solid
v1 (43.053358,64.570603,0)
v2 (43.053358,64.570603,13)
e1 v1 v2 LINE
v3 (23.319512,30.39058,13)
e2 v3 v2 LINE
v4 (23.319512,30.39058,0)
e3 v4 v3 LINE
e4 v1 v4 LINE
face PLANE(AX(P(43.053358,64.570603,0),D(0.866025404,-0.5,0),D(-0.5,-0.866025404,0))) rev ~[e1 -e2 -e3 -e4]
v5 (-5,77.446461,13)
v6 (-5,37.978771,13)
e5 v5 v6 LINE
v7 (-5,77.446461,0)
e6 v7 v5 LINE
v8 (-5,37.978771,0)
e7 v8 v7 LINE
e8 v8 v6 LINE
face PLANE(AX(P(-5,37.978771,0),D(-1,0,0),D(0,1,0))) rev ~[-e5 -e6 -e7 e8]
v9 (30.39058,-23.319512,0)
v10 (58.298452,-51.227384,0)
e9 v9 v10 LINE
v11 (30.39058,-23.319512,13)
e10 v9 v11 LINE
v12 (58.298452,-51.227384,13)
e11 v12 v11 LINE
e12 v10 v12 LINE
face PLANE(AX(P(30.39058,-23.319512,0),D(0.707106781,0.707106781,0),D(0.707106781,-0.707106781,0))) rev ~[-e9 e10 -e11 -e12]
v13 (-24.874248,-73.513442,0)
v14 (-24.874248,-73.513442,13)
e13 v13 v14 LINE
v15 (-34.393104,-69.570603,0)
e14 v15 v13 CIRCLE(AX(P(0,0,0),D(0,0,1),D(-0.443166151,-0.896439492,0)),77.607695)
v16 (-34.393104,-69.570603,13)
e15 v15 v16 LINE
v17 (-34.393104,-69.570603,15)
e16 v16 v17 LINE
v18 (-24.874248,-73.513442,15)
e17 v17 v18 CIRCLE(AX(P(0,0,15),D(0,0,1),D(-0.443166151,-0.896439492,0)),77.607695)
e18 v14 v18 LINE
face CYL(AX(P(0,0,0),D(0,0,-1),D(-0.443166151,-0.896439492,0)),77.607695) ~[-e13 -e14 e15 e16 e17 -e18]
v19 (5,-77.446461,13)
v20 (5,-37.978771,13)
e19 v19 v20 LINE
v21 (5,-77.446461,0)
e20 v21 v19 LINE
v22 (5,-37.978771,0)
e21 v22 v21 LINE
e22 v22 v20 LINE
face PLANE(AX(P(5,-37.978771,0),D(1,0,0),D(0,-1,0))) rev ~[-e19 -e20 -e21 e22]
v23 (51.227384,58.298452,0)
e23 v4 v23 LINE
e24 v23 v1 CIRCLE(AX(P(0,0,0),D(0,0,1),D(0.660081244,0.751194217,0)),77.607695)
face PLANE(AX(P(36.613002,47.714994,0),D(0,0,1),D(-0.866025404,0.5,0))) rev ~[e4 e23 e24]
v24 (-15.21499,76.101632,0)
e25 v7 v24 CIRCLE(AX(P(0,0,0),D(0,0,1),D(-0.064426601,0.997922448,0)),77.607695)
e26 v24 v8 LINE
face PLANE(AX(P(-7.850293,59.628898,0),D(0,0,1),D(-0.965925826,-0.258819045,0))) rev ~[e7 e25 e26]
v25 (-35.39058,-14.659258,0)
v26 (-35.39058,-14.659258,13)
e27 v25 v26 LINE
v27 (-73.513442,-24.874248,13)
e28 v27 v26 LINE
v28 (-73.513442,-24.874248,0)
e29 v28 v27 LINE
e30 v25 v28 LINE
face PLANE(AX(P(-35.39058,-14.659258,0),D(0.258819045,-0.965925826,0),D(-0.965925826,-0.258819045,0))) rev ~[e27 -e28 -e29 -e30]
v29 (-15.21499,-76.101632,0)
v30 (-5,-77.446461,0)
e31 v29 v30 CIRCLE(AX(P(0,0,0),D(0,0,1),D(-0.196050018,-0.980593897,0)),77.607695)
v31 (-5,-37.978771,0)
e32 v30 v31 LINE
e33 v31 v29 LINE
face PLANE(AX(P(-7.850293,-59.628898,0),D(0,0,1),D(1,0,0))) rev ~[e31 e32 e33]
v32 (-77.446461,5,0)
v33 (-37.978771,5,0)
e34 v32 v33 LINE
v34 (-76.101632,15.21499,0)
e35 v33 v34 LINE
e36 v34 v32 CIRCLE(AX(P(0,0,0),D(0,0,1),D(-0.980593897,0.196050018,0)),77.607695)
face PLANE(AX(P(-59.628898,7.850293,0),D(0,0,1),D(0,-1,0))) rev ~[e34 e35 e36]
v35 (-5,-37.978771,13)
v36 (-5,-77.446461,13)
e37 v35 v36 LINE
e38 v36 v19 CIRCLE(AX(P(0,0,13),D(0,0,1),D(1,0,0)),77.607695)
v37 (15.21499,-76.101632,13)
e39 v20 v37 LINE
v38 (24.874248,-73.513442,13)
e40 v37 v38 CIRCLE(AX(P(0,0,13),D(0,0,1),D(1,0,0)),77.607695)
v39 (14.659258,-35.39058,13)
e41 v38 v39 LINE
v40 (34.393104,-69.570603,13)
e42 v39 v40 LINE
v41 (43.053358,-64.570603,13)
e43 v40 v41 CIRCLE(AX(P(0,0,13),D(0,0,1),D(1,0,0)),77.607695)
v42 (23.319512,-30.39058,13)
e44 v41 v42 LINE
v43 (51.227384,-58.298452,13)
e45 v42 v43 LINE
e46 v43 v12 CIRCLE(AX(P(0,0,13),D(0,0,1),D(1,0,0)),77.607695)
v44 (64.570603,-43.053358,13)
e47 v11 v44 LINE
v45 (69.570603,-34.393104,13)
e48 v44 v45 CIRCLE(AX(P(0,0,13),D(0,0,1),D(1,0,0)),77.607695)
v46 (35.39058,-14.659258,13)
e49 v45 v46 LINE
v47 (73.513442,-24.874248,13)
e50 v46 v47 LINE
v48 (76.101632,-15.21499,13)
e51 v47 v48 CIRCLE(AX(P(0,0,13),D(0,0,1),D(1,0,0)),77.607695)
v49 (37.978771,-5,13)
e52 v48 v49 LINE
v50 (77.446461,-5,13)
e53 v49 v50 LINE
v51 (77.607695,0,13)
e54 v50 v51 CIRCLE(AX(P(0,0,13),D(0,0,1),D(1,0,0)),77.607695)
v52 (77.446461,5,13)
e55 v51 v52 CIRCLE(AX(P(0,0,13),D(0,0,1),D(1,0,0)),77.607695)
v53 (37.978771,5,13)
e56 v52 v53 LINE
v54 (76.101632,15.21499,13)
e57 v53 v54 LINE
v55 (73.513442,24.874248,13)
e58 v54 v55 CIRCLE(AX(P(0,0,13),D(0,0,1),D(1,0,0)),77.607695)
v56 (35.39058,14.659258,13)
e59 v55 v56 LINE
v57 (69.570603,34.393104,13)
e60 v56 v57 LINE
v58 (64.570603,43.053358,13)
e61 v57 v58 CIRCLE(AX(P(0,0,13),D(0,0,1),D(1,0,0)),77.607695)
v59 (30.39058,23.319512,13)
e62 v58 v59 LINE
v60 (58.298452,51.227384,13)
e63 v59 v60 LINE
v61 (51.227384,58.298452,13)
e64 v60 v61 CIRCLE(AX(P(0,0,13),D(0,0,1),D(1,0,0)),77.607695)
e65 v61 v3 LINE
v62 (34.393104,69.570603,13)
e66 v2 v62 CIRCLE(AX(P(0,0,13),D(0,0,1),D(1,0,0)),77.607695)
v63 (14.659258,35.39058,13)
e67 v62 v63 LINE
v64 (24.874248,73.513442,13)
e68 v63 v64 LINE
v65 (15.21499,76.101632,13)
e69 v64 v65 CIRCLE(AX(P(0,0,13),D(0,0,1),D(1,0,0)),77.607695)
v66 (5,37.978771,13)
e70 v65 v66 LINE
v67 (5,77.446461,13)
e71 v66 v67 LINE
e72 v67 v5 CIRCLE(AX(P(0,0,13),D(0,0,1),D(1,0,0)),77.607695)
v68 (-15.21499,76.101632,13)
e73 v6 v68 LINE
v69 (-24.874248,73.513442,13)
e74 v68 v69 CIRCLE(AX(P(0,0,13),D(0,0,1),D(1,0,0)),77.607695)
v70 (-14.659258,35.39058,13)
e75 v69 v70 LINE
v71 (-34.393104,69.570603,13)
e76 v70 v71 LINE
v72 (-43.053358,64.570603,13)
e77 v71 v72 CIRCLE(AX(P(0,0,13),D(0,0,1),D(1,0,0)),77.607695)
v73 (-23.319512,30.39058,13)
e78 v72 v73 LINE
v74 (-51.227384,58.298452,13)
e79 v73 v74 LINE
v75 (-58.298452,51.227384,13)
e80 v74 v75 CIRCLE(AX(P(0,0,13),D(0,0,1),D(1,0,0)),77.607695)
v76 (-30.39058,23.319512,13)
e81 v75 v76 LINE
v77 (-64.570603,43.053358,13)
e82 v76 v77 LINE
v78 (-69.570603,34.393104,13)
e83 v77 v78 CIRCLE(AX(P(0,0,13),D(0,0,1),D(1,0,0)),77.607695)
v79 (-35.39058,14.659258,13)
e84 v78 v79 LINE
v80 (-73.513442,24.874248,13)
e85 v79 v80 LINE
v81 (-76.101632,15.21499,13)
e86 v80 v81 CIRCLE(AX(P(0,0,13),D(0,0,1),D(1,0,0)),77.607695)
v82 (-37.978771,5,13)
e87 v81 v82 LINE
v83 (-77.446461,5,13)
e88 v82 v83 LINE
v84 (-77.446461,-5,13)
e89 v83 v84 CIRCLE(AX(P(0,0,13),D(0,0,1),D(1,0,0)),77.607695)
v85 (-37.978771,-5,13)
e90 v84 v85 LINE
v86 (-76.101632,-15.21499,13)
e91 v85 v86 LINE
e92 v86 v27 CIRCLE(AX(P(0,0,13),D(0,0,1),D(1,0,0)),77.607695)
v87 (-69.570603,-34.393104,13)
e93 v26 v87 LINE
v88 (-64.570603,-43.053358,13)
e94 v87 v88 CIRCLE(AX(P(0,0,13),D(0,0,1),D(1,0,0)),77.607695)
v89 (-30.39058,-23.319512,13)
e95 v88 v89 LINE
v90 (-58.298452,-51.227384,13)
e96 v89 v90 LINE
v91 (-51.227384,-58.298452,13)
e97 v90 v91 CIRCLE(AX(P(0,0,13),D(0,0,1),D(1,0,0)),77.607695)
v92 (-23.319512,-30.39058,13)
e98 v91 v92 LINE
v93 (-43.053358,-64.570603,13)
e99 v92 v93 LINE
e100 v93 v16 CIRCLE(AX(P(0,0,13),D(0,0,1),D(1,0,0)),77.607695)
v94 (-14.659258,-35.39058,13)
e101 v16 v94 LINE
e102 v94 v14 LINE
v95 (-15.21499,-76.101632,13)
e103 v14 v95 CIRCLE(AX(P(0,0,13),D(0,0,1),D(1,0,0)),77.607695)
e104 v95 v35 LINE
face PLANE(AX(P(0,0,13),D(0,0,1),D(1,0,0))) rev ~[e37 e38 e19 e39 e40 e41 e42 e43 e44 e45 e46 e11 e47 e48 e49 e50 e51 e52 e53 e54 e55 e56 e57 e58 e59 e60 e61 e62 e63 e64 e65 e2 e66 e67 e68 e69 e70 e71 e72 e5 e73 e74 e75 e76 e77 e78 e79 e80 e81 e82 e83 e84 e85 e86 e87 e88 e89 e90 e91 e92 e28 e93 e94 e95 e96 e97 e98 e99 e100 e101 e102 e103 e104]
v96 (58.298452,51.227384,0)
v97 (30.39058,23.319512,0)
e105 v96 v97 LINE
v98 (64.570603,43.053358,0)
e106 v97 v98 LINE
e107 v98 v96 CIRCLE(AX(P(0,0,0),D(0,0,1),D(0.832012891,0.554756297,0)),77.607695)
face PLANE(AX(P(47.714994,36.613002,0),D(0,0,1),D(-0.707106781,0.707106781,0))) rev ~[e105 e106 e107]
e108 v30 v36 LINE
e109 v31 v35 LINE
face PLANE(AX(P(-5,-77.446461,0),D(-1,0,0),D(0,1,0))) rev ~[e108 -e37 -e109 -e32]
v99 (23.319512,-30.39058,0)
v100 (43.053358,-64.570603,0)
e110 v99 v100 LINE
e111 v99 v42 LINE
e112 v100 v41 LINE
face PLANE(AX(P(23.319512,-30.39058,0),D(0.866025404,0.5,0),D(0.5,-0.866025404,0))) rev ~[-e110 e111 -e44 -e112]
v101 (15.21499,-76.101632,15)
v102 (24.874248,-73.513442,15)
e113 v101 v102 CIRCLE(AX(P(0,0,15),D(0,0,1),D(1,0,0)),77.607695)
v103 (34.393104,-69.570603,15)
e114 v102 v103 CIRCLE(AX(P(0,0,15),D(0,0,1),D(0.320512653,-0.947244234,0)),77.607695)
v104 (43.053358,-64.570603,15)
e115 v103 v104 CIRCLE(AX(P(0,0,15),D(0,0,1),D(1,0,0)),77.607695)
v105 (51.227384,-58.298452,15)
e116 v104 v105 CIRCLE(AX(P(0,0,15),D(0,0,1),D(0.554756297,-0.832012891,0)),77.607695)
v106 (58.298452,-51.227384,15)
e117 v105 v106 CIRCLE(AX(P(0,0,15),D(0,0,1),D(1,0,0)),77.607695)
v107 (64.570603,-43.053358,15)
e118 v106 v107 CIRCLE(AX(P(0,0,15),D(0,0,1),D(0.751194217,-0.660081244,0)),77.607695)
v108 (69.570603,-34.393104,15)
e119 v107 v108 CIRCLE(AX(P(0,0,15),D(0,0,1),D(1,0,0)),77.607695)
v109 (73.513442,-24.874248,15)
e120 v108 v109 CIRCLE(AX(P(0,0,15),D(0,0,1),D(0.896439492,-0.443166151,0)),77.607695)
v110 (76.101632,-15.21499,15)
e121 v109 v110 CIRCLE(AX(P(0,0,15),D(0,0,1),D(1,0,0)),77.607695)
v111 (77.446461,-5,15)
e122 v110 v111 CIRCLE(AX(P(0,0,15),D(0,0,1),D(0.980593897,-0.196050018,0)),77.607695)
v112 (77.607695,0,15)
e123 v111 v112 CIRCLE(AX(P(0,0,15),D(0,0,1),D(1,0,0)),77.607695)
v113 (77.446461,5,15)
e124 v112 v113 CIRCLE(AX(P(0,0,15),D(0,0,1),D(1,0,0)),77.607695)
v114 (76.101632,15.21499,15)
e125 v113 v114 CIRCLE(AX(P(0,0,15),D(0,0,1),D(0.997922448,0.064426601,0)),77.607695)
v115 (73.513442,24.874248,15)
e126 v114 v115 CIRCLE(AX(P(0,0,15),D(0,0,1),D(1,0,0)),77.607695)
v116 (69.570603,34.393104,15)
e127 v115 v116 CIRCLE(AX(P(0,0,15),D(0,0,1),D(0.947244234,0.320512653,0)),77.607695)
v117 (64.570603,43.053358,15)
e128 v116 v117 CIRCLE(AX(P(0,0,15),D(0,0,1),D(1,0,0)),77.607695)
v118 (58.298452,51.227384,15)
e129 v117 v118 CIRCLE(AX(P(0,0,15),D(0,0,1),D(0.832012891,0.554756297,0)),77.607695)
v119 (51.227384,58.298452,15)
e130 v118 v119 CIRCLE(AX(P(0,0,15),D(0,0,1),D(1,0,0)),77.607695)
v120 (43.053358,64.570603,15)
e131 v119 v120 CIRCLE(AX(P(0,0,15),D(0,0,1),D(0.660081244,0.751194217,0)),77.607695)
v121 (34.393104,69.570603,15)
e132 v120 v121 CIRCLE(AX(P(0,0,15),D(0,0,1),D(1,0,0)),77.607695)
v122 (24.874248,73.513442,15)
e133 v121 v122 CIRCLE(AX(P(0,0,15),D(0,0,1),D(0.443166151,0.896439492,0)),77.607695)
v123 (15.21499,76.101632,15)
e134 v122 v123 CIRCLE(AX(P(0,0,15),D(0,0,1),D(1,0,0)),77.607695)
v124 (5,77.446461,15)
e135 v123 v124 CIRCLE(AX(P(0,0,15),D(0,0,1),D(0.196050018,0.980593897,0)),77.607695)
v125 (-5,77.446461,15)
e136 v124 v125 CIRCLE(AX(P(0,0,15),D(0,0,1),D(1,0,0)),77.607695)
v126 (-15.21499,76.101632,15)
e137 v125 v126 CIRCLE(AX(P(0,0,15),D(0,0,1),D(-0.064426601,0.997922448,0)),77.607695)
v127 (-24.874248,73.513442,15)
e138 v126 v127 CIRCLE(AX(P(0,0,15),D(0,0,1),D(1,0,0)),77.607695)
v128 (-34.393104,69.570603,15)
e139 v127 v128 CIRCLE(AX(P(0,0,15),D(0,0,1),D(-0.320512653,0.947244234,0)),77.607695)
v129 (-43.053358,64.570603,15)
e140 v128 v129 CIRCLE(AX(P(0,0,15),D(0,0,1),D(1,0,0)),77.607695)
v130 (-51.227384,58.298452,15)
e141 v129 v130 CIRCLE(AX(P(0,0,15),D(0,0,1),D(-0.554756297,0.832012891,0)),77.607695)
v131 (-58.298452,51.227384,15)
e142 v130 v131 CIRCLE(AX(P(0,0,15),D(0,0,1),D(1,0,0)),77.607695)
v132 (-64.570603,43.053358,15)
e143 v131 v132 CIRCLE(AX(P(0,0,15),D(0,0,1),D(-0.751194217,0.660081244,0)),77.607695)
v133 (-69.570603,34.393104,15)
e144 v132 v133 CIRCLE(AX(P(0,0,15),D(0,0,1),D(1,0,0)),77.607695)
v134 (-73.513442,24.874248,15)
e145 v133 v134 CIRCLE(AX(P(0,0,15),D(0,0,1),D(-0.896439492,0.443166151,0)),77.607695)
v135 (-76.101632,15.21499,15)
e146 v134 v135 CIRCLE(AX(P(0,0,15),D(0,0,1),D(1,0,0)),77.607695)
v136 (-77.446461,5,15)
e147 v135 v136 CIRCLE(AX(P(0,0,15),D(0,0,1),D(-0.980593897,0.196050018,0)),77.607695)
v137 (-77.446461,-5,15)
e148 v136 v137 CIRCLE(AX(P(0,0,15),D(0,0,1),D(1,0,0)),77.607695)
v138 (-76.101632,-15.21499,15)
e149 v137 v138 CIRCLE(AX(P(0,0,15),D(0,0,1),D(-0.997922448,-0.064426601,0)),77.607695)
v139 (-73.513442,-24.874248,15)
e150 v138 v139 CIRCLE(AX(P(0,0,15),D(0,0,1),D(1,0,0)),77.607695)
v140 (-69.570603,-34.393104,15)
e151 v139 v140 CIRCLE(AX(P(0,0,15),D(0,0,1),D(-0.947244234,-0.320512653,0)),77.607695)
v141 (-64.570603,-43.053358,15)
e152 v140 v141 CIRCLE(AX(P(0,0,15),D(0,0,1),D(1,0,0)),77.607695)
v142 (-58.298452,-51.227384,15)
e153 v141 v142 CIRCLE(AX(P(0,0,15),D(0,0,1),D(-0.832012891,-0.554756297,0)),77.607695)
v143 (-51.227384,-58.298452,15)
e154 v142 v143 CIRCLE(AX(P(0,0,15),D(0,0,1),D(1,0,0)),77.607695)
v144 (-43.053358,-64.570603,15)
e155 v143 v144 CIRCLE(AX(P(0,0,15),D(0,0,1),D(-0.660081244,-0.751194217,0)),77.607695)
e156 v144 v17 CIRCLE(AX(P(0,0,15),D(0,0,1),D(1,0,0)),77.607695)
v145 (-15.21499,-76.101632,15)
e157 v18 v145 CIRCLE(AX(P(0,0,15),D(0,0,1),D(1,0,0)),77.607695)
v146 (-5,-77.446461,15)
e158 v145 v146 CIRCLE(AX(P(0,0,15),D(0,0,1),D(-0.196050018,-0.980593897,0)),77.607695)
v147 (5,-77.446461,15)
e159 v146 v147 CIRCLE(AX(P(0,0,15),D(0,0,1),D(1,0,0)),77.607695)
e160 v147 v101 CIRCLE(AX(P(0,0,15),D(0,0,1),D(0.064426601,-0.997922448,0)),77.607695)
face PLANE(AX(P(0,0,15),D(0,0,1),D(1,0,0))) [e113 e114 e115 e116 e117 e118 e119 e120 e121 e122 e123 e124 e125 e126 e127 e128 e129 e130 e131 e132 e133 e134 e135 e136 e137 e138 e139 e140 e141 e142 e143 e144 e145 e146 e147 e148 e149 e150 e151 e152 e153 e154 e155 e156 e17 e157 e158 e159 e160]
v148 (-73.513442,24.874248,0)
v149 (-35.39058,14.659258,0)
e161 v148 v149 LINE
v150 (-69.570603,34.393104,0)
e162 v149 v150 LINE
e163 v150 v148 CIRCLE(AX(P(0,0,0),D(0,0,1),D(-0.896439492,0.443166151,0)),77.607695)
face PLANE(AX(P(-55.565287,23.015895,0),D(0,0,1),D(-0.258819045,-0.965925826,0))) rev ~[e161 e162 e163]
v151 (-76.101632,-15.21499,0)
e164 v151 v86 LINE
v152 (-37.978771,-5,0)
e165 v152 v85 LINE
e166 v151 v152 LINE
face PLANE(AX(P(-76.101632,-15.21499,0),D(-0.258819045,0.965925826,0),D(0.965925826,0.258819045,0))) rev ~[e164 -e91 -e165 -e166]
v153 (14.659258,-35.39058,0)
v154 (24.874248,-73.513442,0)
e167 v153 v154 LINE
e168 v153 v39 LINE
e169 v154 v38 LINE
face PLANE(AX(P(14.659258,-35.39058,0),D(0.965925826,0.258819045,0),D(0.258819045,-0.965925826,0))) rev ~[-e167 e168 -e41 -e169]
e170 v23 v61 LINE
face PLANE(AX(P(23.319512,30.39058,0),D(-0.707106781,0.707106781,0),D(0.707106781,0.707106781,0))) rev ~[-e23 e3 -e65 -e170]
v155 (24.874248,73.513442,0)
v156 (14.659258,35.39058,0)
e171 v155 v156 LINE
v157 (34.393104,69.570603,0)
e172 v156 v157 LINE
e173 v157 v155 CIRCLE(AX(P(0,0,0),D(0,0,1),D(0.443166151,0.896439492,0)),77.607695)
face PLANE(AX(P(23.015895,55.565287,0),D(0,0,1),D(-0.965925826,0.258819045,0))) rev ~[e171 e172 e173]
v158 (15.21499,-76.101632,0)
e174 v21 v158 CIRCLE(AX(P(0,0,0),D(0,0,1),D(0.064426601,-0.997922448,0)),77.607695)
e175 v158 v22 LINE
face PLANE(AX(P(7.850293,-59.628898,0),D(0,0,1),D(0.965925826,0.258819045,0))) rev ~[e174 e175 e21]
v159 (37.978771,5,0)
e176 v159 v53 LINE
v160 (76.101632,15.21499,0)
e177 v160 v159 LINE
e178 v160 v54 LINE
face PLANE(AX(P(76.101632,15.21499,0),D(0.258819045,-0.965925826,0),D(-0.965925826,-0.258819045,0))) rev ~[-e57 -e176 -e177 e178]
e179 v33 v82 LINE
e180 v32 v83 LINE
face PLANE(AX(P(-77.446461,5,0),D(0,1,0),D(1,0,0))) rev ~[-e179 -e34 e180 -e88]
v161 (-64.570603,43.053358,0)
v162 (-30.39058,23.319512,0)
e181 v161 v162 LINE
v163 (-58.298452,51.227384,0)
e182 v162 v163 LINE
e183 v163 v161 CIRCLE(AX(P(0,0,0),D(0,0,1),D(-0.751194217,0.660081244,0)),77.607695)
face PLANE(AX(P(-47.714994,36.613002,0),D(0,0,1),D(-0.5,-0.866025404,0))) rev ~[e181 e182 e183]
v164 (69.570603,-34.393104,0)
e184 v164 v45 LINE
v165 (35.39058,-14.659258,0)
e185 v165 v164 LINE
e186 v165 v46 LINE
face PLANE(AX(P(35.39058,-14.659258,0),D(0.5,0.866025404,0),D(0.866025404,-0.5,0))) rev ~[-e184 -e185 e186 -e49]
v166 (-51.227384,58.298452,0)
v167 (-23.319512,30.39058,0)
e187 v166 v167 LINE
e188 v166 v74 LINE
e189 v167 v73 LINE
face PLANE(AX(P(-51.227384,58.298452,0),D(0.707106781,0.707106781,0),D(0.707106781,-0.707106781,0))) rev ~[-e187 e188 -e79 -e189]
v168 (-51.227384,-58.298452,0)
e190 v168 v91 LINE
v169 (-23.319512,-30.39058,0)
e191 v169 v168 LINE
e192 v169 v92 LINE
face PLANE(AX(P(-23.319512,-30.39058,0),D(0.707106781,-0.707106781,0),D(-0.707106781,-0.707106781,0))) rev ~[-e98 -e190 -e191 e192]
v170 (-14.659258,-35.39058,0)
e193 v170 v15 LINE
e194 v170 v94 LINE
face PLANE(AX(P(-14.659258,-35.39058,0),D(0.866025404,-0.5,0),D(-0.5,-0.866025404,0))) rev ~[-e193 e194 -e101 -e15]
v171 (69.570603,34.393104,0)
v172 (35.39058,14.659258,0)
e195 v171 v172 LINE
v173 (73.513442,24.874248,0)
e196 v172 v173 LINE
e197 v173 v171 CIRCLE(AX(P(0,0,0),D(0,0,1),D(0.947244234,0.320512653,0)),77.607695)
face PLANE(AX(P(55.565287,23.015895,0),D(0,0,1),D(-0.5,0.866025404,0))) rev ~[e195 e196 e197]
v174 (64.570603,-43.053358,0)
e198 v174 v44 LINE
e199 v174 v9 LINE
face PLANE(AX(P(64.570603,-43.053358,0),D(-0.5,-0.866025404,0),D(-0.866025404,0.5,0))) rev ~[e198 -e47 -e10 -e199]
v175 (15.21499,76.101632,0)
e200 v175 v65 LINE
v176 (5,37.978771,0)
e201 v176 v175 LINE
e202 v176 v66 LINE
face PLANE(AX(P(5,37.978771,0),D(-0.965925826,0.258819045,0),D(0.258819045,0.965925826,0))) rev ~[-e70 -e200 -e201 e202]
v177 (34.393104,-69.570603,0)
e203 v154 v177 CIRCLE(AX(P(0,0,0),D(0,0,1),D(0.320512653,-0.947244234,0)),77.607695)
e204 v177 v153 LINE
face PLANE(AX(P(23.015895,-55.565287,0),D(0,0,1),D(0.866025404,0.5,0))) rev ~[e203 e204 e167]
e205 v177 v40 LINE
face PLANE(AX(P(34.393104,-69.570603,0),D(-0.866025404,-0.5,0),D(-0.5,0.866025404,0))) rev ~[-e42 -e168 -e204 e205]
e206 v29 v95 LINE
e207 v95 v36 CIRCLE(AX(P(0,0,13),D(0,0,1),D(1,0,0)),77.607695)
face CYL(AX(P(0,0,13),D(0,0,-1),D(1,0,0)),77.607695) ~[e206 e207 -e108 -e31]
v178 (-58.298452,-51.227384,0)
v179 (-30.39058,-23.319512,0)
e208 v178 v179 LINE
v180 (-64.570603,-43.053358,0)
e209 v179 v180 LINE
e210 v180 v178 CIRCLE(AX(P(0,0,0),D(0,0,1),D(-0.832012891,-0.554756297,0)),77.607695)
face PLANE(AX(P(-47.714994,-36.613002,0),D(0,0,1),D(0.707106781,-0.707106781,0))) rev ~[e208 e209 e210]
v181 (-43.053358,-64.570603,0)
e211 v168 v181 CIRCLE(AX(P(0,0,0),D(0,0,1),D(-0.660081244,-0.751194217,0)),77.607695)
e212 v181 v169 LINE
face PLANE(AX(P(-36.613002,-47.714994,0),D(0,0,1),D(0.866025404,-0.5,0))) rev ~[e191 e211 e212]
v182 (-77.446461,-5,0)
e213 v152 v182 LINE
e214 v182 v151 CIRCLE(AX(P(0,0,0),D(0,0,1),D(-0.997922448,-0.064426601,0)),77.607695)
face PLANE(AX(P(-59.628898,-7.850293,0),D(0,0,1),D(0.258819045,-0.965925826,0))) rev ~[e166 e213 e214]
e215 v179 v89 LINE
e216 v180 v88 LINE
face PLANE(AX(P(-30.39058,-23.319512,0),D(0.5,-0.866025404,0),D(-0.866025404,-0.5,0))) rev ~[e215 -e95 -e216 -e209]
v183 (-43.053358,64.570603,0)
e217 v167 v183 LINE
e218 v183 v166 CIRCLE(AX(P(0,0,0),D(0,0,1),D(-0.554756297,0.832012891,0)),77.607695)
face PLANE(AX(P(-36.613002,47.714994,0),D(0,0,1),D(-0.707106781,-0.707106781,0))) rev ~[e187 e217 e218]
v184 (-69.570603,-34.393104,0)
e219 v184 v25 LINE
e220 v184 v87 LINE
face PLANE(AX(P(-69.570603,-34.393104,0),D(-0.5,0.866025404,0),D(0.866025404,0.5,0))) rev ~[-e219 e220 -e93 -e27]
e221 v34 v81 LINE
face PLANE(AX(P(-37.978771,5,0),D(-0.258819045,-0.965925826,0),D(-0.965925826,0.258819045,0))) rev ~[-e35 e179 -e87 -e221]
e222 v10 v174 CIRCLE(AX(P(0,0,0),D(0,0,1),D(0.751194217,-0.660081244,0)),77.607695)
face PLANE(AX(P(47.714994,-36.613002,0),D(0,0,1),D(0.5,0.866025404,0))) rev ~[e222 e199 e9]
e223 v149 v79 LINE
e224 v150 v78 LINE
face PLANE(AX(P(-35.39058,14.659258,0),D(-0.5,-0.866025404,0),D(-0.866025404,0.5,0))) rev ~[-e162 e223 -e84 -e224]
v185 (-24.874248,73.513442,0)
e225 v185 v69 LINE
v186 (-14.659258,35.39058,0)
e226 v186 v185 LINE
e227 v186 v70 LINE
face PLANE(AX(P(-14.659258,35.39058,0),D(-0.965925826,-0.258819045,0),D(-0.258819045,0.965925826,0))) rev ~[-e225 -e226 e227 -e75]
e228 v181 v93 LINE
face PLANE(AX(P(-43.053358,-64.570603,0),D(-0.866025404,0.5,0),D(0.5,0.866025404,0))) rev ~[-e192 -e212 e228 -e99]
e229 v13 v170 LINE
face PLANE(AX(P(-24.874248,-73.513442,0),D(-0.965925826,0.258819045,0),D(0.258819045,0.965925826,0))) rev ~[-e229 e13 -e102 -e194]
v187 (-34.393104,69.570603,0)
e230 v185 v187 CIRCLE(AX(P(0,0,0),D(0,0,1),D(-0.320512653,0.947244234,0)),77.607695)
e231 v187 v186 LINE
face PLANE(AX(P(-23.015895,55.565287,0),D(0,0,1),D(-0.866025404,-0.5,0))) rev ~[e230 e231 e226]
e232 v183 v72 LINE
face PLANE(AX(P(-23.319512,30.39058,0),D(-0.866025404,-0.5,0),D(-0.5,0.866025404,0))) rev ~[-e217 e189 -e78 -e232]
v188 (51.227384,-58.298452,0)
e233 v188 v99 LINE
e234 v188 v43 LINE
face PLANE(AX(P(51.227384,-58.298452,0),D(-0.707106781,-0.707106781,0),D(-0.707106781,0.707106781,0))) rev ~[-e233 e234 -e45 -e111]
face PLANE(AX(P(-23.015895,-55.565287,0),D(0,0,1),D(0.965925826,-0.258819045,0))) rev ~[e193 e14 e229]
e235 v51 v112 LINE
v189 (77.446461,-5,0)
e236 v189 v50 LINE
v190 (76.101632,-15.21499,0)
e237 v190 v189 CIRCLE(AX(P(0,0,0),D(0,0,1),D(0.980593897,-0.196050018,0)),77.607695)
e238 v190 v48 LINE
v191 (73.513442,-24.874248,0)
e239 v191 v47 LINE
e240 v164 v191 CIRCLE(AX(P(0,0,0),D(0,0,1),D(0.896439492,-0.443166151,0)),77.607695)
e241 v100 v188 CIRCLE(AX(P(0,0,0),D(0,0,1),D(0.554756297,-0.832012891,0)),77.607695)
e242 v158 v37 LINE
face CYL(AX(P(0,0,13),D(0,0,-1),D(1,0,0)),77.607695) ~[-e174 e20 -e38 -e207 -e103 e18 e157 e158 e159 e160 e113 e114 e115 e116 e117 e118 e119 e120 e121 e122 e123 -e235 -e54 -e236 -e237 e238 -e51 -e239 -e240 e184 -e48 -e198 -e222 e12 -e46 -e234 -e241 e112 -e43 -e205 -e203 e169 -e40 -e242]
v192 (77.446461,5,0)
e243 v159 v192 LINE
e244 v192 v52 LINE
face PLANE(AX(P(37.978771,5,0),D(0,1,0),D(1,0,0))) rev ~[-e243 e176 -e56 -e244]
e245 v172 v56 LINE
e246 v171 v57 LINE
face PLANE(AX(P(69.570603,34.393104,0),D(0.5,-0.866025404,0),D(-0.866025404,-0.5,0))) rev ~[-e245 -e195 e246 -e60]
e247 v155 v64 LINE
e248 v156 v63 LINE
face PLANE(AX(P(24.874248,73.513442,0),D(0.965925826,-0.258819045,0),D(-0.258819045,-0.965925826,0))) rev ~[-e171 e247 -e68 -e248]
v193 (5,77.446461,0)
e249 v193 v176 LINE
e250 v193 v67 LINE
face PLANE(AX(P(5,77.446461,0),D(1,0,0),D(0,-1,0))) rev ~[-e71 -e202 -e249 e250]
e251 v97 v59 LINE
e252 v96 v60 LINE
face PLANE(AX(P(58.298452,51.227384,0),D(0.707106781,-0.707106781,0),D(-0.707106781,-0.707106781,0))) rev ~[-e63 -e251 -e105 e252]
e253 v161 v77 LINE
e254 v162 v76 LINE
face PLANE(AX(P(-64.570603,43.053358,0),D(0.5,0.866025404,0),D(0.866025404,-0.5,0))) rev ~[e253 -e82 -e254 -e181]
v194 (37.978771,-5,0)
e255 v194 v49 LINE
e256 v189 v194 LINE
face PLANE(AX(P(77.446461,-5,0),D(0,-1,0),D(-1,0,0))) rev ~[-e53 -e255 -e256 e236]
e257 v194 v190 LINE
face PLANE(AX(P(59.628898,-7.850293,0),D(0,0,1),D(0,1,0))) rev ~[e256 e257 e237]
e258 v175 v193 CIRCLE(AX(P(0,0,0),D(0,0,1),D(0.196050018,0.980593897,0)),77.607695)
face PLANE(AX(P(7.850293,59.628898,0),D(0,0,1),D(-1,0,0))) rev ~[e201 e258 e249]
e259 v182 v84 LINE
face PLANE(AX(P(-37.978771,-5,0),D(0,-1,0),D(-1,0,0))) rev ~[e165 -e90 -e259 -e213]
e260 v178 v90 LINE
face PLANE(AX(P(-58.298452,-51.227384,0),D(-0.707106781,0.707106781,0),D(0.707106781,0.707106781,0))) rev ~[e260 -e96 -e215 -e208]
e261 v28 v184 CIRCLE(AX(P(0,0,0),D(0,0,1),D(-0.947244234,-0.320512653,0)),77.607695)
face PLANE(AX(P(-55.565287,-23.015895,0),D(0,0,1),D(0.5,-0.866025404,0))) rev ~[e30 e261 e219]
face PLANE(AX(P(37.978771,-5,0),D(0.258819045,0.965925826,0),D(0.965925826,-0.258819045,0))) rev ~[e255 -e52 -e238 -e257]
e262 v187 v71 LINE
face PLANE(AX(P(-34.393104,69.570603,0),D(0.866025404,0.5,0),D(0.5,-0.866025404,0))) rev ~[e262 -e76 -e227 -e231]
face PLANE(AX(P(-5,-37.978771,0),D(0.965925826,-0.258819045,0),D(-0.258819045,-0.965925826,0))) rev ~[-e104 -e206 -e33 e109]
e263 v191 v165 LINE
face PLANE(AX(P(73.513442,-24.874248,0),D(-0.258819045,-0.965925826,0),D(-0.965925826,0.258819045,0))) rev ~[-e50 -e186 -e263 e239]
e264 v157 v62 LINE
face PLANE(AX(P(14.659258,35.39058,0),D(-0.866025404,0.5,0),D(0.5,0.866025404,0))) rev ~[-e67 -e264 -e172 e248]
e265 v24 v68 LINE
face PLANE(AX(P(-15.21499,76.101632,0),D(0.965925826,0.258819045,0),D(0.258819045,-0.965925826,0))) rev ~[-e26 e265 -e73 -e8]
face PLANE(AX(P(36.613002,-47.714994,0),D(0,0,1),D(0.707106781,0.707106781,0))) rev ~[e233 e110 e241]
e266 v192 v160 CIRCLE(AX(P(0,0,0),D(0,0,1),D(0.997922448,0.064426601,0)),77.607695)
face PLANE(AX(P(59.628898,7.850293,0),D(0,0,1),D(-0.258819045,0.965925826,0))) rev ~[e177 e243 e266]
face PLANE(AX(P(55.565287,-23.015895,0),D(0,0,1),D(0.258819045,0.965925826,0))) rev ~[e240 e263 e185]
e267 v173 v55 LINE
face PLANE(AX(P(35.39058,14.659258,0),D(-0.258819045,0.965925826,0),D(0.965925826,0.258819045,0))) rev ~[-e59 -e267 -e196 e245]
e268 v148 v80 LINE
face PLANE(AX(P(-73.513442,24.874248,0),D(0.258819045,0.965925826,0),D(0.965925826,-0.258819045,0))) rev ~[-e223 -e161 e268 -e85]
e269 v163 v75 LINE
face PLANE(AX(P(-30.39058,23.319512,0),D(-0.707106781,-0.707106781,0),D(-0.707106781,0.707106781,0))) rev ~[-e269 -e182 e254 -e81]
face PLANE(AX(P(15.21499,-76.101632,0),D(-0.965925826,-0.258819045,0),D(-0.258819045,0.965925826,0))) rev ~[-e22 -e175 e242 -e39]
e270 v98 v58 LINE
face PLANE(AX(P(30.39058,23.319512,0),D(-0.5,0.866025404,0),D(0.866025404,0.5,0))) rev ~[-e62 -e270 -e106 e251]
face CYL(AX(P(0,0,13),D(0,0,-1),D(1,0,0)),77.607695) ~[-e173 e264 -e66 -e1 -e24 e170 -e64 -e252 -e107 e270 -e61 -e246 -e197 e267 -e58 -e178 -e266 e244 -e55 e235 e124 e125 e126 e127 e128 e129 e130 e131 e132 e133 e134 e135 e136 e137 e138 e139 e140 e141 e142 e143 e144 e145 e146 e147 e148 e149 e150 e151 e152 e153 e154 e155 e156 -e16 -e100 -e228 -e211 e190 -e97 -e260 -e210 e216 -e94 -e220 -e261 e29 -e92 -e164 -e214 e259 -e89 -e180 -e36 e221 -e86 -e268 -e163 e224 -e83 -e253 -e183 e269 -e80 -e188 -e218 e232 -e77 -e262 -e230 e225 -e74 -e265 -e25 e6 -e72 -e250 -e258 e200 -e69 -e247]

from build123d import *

# Parameters (mm, degrees)
BOSS_EXTRUDE1_START = 13
SKETCH1_R           = 77.607695155
BOSS_EXTRUDE1_DEPTH = 2
BOSS_EXTRUDE2_START = -15
BOSS_EXTRUDE2_DEPTH = 15
CIRPATTERN1_COUNT   = 24


with BuildPart() as part:
    # Sketch1 → Boss-Extrude1 (new body)
    with BuildSketch(Plane.XY.offset(BOSS_EXTRUDE1_START)):
        Circle(SKETCH1_R)
    extrude(amount=BOSS_EXTRUDE1_DEPTH)

    # Sketch3 → Boss-Extrude2 (add)
    with BuildSketch(Plane.XY.offset(15).offset(BOSS_EXTRUDE2_START)):
        with BuildLine():
            Line((-5, -77.446461166), (-5, -37.978770564))
            Line((-5, -37.978770564), (-15.214989994, -76.101632221))
            ThreePointArc((-15.214989994, -76.101632221), (-10.129836936, -76.943750564), (-5, -77.446461166))
        make_face()
    boss_extrude2 = extrude(amount=BOSS_EXTRUDE2_DEPTH)

    # CirPattern1: Boss-Extrude2 ×24 about axis
    cirpattern1_axis = Axis((0, 0, 0), (0, 0, 1))
    for i in range(1, CIRPATTERN1_COUNT):
        add(boss_extrude2.rotate(cirpattern1_axis, i * 360 / CIRPATTERN1_COUNT))


solid = part.part
